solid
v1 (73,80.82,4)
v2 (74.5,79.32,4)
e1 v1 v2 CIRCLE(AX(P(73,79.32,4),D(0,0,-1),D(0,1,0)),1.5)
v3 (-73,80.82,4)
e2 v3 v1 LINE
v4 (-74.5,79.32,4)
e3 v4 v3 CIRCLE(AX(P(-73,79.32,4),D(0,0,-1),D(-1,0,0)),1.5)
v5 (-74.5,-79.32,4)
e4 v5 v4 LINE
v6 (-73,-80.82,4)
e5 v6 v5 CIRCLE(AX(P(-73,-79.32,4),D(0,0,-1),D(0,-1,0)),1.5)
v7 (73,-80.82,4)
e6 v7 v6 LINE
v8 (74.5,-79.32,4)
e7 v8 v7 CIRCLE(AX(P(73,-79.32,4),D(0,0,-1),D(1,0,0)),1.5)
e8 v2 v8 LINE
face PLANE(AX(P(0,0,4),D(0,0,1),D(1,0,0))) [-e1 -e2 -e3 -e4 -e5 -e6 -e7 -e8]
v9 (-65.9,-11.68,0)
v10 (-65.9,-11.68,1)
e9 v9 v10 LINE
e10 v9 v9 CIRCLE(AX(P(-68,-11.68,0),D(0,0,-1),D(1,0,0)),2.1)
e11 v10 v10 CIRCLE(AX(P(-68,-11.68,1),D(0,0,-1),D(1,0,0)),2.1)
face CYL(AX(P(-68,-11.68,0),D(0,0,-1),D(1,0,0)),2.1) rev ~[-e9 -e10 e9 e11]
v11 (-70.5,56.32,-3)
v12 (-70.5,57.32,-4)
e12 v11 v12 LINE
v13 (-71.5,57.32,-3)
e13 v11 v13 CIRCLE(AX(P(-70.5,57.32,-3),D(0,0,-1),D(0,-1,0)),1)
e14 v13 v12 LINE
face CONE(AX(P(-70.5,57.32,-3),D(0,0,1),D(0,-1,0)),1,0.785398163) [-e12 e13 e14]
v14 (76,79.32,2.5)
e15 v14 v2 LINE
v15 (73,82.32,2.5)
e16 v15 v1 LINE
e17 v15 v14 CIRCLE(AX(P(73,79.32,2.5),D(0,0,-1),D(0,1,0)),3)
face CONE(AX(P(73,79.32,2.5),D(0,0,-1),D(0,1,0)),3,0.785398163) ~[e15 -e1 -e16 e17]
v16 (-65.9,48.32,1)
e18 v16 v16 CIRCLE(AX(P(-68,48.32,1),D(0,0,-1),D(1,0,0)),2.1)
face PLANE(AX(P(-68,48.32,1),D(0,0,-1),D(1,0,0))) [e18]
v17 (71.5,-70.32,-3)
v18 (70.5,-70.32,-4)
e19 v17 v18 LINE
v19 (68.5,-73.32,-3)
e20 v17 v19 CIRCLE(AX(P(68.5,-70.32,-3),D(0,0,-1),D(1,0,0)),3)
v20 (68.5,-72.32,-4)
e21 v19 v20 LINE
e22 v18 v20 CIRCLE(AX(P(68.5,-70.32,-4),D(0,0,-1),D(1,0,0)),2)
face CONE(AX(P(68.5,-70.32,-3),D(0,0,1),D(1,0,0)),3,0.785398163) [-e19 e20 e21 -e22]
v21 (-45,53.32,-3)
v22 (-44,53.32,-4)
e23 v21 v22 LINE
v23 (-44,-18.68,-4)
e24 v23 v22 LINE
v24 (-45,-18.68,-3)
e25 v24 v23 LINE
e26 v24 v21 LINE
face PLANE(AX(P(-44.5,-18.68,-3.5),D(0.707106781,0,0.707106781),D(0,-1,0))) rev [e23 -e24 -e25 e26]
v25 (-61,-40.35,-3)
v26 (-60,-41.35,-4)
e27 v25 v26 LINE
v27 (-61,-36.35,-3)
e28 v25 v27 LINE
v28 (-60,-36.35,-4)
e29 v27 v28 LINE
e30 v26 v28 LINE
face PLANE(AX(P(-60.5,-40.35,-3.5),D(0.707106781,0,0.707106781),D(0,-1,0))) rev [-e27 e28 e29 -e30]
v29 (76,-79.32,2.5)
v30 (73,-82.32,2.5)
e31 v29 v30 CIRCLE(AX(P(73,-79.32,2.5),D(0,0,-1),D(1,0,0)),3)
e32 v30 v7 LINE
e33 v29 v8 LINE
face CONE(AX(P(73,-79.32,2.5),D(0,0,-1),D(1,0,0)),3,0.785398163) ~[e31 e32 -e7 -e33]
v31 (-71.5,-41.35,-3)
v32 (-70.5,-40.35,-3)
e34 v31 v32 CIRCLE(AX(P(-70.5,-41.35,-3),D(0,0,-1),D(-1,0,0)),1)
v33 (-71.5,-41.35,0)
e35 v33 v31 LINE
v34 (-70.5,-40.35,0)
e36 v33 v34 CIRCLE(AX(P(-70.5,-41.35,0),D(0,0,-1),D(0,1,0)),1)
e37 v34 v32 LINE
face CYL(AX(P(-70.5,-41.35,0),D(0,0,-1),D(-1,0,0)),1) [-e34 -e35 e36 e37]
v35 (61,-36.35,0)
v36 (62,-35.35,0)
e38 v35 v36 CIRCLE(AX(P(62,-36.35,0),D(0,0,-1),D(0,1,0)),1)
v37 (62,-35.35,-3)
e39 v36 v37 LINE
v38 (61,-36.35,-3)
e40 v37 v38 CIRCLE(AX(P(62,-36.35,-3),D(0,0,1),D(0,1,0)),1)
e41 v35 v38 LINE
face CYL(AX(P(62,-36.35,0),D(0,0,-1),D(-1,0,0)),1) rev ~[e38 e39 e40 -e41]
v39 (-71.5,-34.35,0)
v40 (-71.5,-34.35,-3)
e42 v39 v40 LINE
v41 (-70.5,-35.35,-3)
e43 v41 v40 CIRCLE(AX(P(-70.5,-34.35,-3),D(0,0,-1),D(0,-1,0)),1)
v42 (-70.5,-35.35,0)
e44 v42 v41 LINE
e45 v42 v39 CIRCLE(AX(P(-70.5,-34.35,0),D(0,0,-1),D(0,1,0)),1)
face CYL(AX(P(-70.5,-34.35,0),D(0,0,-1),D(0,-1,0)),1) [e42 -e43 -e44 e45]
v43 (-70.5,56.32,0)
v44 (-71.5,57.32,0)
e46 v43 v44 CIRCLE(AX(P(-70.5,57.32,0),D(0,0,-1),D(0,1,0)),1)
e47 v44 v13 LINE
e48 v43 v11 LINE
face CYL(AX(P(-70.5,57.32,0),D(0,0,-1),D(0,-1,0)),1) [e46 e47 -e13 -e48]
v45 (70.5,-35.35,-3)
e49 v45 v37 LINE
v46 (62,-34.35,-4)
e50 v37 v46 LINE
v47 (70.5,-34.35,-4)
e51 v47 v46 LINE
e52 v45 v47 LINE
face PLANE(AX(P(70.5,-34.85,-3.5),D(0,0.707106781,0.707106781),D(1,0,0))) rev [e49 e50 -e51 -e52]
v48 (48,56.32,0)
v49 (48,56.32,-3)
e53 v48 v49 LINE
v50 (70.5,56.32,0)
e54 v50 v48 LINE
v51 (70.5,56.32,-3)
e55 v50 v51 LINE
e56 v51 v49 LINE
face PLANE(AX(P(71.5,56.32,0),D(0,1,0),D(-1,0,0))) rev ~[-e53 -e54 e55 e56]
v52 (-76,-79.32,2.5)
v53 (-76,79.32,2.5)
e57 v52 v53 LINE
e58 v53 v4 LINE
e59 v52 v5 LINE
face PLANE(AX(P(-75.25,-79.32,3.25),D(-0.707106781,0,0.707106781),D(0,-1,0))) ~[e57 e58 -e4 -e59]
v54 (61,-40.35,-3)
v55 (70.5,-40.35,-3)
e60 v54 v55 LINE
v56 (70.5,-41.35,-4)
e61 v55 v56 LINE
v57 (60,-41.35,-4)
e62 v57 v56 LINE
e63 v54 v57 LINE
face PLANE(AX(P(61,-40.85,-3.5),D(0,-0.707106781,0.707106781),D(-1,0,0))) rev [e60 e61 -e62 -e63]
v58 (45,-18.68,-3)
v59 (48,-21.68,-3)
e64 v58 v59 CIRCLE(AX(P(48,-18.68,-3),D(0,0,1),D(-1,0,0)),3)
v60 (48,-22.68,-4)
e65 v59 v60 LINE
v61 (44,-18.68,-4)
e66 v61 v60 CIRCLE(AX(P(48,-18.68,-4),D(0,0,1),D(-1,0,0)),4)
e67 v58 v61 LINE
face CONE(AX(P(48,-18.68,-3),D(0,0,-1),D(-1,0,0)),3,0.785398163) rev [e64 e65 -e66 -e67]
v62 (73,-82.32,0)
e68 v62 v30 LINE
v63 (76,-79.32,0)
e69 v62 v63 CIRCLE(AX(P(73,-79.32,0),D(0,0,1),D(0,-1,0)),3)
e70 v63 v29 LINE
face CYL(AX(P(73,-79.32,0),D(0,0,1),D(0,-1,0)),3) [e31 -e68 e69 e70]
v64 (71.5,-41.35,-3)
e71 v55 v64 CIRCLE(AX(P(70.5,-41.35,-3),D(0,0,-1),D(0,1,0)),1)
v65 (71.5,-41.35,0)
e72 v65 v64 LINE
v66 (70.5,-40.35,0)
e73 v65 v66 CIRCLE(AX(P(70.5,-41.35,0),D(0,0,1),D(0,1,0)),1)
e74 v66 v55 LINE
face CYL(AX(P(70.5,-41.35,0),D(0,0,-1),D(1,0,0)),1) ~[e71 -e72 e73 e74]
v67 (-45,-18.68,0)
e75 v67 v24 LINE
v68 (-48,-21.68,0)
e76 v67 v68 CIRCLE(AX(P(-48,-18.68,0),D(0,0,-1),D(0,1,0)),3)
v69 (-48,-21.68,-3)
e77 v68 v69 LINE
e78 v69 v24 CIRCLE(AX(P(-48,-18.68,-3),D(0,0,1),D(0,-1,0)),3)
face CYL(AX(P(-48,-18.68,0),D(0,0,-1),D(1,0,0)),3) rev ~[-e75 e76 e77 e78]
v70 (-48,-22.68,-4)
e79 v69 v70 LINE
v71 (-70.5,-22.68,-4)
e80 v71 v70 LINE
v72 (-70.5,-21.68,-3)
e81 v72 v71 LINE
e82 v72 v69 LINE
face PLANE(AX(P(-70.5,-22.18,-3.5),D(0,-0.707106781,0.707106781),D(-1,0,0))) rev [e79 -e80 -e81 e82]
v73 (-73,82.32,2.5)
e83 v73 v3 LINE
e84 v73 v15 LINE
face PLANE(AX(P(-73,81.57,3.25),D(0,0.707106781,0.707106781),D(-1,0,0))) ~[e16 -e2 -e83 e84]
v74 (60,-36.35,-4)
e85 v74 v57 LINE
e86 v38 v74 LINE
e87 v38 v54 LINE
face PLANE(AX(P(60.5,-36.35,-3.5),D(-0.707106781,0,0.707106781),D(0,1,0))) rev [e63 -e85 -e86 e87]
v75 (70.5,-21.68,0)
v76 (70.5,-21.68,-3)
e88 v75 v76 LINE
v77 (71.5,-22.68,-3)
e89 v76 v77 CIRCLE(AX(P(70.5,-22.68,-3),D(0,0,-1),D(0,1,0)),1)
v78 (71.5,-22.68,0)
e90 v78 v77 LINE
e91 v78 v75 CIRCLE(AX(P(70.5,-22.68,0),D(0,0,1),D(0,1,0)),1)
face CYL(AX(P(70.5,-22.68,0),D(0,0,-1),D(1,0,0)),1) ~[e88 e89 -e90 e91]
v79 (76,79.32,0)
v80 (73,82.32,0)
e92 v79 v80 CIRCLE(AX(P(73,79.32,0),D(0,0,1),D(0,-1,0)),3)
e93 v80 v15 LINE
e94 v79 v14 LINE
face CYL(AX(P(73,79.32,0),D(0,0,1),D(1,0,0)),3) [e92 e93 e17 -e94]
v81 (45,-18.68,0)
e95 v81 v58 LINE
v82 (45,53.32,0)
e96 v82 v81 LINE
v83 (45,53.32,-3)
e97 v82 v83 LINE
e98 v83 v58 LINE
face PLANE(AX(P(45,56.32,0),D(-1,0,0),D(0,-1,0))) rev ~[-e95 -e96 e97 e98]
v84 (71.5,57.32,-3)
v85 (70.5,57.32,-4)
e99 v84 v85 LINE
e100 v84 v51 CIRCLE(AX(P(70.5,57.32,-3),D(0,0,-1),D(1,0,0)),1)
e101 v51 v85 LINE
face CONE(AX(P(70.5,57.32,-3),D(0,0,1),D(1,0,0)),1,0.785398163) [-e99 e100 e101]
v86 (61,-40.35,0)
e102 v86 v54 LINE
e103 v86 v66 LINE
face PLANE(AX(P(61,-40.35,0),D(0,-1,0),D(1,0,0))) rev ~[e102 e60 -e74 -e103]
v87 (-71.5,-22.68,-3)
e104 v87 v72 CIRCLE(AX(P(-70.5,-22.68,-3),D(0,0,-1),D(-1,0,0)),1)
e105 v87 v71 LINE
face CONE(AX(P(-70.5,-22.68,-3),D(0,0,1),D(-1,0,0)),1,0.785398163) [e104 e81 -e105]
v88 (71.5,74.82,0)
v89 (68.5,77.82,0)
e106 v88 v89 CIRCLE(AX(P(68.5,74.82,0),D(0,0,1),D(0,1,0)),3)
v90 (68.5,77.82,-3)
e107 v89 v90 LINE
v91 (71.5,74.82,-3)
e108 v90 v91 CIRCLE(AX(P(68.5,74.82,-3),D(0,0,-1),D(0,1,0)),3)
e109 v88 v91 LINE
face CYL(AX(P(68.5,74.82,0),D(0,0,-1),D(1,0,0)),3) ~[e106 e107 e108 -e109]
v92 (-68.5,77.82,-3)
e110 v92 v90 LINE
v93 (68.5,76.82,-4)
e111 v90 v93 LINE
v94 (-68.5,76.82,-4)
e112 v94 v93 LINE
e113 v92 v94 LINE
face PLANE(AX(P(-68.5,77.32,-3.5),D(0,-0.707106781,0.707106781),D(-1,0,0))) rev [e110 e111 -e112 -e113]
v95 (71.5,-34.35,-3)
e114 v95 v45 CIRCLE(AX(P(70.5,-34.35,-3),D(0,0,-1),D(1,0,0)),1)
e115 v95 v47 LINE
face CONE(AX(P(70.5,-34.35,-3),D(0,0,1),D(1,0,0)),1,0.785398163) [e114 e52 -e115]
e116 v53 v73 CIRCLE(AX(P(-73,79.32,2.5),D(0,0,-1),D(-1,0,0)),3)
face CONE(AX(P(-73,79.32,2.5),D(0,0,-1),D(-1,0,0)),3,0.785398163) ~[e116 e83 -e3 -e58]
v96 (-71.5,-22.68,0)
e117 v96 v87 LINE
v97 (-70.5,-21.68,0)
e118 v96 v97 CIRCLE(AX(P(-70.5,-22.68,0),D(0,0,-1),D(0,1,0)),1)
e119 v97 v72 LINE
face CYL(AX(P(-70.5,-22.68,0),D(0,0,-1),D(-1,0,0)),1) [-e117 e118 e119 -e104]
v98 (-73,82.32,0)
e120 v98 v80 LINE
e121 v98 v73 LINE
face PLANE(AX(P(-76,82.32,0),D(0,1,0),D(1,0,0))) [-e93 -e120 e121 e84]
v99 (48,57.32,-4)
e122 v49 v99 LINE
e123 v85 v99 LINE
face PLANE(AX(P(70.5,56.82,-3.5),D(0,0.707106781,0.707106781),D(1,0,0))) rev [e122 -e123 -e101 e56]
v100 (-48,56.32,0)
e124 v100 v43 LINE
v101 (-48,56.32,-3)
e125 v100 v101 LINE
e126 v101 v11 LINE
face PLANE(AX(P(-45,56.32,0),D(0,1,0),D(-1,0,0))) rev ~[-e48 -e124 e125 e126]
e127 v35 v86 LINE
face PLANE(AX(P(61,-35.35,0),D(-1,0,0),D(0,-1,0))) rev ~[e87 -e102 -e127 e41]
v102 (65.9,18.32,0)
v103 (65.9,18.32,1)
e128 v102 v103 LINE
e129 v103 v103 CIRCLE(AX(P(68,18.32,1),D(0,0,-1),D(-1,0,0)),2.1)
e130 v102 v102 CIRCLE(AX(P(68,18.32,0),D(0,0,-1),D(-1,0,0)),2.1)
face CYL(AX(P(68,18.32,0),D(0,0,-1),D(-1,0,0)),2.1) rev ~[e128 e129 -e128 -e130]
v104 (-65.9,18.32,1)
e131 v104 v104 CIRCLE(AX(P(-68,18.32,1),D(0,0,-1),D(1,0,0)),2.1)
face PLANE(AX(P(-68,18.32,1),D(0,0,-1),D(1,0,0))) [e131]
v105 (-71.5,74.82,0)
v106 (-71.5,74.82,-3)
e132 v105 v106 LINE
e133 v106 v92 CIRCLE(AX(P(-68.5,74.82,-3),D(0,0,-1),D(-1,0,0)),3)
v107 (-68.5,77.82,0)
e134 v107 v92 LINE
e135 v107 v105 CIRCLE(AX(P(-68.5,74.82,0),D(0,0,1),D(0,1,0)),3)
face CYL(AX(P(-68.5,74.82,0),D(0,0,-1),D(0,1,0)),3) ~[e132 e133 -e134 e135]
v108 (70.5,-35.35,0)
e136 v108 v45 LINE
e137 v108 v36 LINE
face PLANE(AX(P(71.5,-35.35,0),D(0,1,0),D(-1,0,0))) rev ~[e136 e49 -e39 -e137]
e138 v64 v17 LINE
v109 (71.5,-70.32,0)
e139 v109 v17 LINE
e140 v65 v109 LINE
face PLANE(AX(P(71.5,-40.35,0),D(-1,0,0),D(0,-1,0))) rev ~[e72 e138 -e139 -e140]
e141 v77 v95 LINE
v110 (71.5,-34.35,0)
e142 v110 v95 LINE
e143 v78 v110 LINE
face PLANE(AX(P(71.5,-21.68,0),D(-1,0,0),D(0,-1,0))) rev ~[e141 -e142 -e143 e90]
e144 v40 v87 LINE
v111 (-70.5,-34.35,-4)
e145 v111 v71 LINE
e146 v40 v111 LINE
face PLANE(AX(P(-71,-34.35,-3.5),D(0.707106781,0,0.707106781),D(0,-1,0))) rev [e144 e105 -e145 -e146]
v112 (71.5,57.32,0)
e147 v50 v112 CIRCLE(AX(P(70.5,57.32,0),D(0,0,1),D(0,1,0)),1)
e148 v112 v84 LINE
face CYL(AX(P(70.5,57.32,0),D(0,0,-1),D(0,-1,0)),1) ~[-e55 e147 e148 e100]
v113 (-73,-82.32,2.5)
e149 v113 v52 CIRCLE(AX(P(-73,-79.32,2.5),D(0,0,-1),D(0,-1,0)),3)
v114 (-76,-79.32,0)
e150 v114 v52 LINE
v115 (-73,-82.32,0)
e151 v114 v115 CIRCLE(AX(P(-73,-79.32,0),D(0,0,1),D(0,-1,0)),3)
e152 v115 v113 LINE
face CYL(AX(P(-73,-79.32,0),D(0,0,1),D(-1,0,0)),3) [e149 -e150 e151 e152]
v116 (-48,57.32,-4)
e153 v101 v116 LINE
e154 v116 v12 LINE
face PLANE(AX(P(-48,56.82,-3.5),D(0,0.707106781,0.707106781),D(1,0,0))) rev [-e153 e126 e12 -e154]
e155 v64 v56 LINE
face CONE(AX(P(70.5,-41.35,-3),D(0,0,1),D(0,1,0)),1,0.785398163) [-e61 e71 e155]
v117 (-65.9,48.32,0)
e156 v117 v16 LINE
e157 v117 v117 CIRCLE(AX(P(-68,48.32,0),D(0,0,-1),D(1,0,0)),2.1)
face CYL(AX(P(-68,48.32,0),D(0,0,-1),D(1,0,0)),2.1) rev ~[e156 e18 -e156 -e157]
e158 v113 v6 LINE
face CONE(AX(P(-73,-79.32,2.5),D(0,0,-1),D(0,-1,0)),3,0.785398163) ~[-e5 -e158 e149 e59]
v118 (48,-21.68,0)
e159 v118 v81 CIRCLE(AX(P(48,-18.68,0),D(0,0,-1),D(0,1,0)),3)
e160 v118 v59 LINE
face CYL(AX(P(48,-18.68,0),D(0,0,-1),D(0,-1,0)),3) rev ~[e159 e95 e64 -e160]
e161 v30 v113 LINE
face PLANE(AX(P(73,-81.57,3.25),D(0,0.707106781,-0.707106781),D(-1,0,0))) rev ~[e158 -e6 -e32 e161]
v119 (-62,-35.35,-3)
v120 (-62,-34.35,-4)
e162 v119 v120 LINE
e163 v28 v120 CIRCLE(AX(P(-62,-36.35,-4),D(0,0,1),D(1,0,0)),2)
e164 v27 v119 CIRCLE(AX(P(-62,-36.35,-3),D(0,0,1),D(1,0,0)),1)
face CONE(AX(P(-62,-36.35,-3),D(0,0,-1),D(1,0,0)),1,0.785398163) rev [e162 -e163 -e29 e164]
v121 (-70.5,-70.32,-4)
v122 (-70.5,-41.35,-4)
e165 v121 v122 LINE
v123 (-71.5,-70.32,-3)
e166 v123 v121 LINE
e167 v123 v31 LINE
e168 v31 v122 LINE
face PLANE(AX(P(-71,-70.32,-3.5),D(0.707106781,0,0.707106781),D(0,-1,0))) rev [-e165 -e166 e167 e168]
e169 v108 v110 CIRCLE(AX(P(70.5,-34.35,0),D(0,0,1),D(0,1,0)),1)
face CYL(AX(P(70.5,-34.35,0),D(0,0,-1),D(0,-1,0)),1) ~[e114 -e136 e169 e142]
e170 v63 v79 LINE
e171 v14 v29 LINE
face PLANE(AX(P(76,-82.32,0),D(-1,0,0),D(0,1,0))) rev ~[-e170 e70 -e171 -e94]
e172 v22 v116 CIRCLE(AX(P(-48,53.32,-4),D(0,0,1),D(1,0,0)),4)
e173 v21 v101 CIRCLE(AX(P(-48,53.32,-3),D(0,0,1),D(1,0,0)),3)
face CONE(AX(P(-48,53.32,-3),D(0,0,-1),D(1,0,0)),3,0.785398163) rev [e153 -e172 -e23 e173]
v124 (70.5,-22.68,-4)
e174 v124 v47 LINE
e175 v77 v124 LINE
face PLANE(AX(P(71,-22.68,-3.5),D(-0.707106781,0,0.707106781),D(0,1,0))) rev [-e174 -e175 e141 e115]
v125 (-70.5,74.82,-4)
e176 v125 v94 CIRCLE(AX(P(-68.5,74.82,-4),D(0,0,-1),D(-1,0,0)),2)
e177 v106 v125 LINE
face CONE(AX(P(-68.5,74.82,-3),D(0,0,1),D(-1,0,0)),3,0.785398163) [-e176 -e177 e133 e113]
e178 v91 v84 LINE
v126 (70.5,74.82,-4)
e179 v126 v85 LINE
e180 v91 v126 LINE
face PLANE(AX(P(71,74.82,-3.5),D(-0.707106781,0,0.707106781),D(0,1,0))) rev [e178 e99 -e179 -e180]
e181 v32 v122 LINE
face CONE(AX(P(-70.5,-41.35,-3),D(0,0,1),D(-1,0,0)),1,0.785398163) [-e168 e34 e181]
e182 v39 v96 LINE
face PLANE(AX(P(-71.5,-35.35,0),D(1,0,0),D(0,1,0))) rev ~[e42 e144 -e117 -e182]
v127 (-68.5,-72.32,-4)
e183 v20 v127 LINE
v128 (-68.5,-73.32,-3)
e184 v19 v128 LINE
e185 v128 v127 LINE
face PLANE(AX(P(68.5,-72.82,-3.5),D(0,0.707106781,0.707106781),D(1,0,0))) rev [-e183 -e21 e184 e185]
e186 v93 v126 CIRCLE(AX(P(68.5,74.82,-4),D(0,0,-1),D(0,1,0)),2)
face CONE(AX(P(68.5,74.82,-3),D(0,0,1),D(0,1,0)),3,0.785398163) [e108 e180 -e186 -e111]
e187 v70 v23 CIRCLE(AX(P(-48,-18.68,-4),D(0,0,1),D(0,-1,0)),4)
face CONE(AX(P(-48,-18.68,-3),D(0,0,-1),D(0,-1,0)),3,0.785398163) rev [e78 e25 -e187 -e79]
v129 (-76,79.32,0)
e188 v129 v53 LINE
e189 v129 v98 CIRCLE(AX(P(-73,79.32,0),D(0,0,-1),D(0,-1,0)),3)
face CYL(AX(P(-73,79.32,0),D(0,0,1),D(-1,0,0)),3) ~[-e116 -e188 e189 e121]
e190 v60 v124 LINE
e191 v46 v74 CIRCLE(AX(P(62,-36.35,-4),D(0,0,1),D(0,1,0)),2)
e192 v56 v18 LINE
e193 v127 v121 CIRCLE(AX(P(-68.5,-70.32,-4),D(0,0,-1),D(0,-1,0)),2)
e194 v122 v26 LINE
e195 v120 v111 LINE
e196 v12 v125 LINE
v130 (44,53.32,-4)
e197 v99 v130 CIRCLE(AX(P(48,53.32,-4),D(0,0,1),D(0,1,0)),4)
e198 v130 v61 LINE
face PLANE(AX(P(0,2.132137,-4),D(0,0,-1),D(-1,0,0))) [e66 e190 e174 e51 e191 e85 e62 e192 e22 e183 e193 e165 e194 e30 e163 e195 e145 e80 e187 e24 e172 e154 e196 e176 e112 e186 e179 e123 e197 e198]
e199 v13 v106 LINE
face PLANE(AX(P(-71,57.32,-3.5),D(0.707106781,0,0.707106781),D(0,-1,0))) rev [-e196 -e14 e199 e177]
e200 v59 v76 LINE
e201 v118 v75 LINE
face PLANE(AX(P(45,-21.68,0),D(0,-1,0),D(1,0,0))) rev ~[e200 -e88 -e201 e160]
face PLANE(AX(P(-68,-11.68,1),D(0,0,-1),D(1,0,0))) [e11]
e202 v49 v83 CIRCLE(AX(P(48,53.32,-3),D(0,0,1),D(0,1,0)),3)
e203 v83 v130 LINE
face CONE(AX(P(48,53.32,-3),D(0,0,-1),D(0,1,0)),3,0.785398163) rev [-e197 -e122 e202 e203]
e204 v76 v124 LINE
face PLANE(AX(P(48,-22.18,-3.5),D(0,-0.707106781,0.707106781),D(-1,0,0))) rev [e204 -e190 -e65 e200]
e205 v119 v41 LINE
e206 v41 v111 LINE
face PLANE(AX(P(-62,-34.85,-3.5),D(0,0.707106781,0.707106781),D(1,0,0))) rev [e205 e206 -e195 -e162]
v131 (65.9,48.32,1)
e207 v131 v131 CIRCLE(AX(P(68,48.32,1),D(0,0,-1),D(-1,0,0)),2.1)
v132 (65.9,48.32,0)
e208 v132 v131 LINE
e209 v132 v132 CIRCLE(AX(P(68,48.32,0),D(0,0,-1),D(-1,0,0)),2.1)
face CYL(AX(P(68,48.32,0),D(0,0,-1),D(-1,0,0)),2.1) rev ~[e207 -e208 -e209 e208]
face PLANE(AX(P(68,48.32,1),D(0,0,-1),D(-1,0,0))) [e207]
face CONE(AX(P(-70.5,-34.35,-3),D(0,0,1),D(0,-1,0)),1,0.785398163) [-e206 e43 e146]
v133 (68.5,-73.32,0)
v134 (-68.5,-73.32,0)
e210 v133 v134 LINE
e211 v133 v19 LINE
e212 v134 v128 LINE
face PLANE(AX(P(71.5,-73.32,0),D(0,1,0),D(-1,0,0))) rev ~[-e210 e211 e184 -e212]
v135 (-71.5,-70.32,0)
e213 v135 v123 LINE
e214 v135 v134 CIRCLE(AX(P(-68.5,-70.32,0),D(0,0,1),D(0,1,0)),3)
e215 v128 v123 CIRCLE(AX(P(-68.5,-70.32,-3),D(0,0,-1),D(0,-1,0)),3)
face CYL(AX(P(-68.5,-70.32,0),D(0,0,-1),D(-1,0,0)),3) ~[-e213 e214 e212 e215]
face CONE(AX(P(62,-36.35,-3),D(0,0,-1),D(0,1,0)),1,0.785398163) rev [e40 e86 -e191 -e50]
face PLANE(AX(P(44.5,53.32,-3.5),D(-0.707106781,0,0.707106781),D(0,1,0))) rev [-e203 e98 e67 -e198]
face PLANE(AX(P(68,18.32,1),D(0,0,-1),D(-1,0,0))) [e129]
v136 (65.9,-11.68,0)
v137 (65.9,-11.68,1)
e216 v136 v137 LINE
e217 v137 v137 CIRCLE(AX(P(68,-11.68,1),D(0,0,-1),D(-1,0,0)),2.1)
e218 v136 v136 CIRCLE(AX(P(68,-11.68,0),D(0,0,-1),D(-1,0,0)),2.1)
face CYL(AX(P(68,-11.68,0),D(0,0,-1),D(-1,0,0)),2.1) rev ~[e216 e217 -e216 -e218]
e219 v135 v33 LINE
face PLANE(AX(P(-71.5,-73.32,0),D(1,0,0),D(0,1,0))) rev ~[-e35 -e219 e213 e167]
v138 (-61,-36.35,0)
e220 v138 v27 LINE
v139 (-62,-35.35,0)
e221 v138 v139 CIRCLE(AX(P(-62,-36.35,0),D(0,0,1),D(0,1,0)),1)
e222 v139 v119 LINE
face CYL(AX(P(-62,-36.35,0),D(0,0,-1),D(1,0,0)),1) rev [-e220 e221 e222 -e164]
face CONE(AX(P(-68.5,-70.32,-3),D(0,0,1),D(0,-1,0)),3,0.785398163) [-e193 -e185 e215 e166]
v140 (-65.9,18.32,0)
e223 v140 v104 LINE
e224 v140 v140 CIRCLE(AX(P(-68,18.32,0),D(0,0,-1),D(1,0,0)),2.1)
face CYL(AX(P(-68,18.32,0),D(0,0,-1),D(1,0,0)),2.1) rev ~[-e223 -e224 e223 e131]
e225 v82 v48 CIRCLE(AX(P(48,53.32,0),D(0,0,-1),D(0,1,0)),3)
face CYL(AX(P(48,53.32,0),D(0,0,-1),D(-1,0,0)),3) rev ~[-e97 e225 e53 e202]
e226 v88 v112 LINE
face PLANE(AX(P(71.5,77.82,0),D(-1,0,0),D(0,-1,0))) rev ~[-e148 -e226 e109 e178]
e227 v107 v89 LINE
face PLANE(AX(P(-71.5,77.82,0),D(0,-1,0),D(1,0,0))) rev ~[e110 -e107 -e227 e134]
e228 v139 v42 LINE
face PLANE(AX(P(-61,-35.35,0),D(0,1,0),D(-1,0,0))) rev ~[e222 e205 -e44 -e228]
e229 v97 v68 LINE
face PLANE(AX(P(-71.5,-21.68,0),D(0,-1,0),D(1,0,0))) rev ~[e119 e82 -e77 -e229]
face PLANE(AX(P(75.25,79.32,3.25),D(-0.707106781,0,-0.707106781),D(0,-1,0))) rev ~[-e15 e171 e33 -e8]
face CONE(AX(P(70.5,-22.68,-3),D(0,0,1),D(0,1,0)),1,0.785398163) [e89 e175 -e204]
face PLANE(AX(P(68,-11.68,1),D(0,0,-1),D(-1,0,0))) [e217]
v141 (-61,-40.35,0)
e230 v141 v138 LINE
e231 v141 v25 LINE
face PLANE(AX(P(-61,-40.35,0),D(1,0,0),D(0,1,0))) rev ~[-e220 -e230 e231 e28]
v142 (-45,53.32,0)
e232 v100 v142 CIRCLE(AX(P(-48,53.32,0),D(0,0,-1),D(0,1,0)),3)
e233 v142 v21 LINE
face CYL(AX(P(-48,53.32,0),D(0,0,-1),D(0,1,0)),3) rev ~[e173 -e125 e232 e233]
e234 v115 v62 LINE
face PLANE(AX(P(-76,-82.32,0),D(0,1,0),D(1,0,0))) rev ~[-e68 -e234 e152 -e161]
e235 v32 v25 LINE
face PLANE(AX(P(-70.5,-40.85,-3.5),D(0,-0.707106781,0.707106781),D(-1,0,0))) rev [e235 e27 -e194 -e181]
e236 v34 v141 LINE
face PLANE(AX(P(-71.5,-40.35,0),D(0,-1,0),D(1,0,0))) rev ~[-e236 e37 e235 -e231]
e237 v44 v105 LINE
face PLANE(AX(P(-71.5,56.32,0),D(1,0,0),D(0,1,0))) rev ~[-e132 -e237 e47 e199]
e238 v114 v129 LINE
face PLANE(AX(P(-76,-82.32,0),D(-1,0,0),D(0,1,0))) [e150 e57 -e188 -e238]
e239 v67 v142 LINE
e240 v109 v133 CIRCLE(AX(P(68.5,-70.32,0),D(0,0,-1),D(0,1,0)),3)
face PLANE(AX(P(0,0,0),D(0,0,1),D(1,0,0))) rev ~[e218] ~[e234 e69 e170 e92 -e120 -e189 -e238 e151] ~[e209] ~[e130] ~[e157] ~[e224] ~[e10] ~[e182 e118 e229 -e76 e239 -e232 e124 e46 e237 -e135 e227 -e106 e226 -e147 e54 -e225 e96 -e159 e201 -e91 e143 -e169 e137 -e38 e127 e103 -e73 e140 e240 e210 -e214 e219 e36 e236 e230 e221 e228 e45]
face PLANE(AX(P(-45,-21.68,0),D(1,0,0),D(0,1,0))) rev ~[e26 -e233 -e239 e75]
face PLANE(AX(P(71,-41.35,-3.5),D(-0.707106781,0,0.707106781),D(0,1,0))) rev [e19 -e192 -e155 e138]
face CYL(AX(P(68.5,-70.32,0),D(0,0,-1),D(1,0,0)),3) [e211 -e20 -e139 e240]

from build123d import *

# Parameters (mm, degrees)
ESBO_O1_W                = 152
ESBO_O1_H                = 164.64
RESSALTO_EXTRUS_O1_DEPTH = 4
FILETE1_R                = 3
RESSALTO_EXTRUS_O2_DEPTH = 4
FILETE2_R                = 3
FILETE3_R                = 1
CHANFRO1_SIZE            = 1.5
CHANFRO2_SIZE            = 1
ESBO_O3_R                = 2.1
CORTE_EXTRUS_O1_DEPTH    = 1


with BuildPart() as part:
    # Esboço1 → Ressalto-extrusão1 (new body)
    with BuildSketch(Plane.XY):
        Rectangle(ESBO_O1_W, ESBO_O1_H)
    extrude(amount=RESSALTO_EXTRUS_O1_DEPTH)

    # Filete1
    filete1_edges = [part.edges().sort_by_distance(p)[0] for p in [
        (76, -82.32, 2),
        (-76, -82.32, 2),
        (-76, 82.32, 2),
        (76, 82.32, 2),
    ]]
    fillet(filete1_edges, radius=FILETE1_R)

    # Esboço2 → Ressalto-extrusão2 (add)
    with BuildSketch(Plane(origin=(0, 0, 0), x_dir=(-1, 0, 0), z_dir=(0, 0, -1))):
        Polygon((-71.5, -73.32), (71.5, -73.32), (71.5, -40.35), (61, -40.35), (61, -35.35), (71.5, -35.35), (71.5, -21.68), (45, -21.68), (45, 56.32), (71.5, 56.32), (71.5, 77.82), (-71.5, 77.82), (-71.5, 56.32), (-45, 56.32), (-45, -21.68), (-71.5, -21.68), (-71.5, -35.35), (-61, -35.35), (-61, -40.35), (-71.5, -40.35), align=None)
    extrude(amount=RESSALTO_EXTRUS_O2_DEPTH)

    # Filete2
    filete2_edges = [part.edges().sort_by_distance(p)[0] for p in [
        (-71.5, 77.82, -2),
        (71.5, 77.82, -2),
        (45, 56.32, -2),
        (45, -21.68, -2),
        (71.5, -73.32, -2),
        (-71.5, -73.32, -2),
        (-45, -21.68, -2),
        (-45, 56.32, -2),
    ]]
    fillet(filete2_edges, radius=FILETE2_R)

    # Filete3
    filete3_edges = [part.edges().sort_by_distance(p)[0] for p in [
        (-71.5, 56.32, -2),
        (71.5, 56.32, -2),
        (71.5, -21.68, -2),
        (71.5, -35.35, -2),
        (61, -35.35, -2),
        (71.5, -40.35, -2),
        (-71.5, -40.35, -2),
        (-61, -35.35, -2),
        (-71.5, -35.35, -2),
        (-71.5, -21.68, -2),
    ]]
    fillet(filete3_edges, radius=FILETE3_R)

    # Chanfro1
    chanfro1_edges = [part.edges().sort_by_distance(p)[0] for p in [
        (-76, 0, 4),
        (0, 82.32, 4),
        (76, 0, 4),
        (0, -82.32, 4),
        (75.121320344, 81.441320344, 4),
        (75.121320344, -81.441320344, 4),
        (-75.121320344, -81.441320344, 4),
        (-75.121320344, 81.441320344, 4),
    ]]
    chamfer(chanfro1_edges, length=CHANFRO1_SIZE)

    # Chanfro2
    chanfro2_edges = [part.edges().sort_by_distance(p)[0] for p in [
        (71.5, 66.07, -4),
        (0, 77.82, -4),
        (45, 17.32, -4),
        (59.25, -21.68, -4),
        (0, -73.32, -4),
        (-71.5, -55.835, -4),
        (-45, 17.32, -4),
        (-59.25, 56.32, -4),
        (70.621320344, -72.441320344, -4),
        (-70.621320344, -72.441320344, -4),
        (-70.621320344, 76.941320344, -4),
        (70.621320344, 76.941320344, -4),
        (45.878679656, 55.441320344, -4),
        (45.878679656, -20.801320344, -4),
        (-45.878679656, -20.801320344, -4),
        (-45.878679656, 55.441320344, -4),
        (-65.75, -40.35, -4),
        (59.25, 56.32, -4),
        (71.5, -28.515, -4),
        (66.25, -35.35, -4),
        (61, -38.35, -4),
        (71.5, -55.835, -4),
        (-66.25, -35.35, -4),
        (-71.5, -28.515, -4),
        (-59.25, -21.68, -4),
        (-71.5, 66.07, -4),
        (71.207106781, -35.057106781, -4),
        (71.207106781, -21.972893219, -4),
        (71.207106781, 56.612893219, -4),
        (-71.207106781, 56.612893219, -4),
        (-71.207106781, -21.972893219, -4),
        (-71.207106781, -35.057106781, -4),
        (71.207106781, -40.642893219, -4),
        (-71.207106781, -40.642893219, -4),
        (-61.292893219, -35.642893219, -4),
        (61.292893219, -35.642893219, -4),
        (65.75, -40.35, -4),
        (-61, -38.35, -4),
    ]]
    chamfer(chanfro2_edges, length=CHANFRO2_SIZE)

    # Esboço3 → Corte-extrusão1 (cut)
    with BuildSketch(Plane(origin=(0, 0, 0), x_dir=(-1, 0, 0), z_dir=(0, 0, -1))):
        with Locations((-68, 48.32)):
            Circle(ESBO_O3_R)
        with Locations((-68, -11.68)):
            Circle(ESBO_O3_R)
        with Locations((-68, 18.32)):
            Circle(ESBO_O3_R)
        with Locations(Location((68, 18.32, 0), (0, 0, 180))):
            Circle(ESBO_O3_R)
        with Locations(Location((68, -11.68, 0), (0, 0, 180))):
            Circle(ESBO_O3_R)
        with Locations(Location((68, 48.32, 0), (0, 0, 180))):
            Circle(ESBO_O3_R)
    extrude(amount=-CORTE_EXTRUS_O1_DEPTH, mode=Mode.SUBTRACT)


solid = part.part
